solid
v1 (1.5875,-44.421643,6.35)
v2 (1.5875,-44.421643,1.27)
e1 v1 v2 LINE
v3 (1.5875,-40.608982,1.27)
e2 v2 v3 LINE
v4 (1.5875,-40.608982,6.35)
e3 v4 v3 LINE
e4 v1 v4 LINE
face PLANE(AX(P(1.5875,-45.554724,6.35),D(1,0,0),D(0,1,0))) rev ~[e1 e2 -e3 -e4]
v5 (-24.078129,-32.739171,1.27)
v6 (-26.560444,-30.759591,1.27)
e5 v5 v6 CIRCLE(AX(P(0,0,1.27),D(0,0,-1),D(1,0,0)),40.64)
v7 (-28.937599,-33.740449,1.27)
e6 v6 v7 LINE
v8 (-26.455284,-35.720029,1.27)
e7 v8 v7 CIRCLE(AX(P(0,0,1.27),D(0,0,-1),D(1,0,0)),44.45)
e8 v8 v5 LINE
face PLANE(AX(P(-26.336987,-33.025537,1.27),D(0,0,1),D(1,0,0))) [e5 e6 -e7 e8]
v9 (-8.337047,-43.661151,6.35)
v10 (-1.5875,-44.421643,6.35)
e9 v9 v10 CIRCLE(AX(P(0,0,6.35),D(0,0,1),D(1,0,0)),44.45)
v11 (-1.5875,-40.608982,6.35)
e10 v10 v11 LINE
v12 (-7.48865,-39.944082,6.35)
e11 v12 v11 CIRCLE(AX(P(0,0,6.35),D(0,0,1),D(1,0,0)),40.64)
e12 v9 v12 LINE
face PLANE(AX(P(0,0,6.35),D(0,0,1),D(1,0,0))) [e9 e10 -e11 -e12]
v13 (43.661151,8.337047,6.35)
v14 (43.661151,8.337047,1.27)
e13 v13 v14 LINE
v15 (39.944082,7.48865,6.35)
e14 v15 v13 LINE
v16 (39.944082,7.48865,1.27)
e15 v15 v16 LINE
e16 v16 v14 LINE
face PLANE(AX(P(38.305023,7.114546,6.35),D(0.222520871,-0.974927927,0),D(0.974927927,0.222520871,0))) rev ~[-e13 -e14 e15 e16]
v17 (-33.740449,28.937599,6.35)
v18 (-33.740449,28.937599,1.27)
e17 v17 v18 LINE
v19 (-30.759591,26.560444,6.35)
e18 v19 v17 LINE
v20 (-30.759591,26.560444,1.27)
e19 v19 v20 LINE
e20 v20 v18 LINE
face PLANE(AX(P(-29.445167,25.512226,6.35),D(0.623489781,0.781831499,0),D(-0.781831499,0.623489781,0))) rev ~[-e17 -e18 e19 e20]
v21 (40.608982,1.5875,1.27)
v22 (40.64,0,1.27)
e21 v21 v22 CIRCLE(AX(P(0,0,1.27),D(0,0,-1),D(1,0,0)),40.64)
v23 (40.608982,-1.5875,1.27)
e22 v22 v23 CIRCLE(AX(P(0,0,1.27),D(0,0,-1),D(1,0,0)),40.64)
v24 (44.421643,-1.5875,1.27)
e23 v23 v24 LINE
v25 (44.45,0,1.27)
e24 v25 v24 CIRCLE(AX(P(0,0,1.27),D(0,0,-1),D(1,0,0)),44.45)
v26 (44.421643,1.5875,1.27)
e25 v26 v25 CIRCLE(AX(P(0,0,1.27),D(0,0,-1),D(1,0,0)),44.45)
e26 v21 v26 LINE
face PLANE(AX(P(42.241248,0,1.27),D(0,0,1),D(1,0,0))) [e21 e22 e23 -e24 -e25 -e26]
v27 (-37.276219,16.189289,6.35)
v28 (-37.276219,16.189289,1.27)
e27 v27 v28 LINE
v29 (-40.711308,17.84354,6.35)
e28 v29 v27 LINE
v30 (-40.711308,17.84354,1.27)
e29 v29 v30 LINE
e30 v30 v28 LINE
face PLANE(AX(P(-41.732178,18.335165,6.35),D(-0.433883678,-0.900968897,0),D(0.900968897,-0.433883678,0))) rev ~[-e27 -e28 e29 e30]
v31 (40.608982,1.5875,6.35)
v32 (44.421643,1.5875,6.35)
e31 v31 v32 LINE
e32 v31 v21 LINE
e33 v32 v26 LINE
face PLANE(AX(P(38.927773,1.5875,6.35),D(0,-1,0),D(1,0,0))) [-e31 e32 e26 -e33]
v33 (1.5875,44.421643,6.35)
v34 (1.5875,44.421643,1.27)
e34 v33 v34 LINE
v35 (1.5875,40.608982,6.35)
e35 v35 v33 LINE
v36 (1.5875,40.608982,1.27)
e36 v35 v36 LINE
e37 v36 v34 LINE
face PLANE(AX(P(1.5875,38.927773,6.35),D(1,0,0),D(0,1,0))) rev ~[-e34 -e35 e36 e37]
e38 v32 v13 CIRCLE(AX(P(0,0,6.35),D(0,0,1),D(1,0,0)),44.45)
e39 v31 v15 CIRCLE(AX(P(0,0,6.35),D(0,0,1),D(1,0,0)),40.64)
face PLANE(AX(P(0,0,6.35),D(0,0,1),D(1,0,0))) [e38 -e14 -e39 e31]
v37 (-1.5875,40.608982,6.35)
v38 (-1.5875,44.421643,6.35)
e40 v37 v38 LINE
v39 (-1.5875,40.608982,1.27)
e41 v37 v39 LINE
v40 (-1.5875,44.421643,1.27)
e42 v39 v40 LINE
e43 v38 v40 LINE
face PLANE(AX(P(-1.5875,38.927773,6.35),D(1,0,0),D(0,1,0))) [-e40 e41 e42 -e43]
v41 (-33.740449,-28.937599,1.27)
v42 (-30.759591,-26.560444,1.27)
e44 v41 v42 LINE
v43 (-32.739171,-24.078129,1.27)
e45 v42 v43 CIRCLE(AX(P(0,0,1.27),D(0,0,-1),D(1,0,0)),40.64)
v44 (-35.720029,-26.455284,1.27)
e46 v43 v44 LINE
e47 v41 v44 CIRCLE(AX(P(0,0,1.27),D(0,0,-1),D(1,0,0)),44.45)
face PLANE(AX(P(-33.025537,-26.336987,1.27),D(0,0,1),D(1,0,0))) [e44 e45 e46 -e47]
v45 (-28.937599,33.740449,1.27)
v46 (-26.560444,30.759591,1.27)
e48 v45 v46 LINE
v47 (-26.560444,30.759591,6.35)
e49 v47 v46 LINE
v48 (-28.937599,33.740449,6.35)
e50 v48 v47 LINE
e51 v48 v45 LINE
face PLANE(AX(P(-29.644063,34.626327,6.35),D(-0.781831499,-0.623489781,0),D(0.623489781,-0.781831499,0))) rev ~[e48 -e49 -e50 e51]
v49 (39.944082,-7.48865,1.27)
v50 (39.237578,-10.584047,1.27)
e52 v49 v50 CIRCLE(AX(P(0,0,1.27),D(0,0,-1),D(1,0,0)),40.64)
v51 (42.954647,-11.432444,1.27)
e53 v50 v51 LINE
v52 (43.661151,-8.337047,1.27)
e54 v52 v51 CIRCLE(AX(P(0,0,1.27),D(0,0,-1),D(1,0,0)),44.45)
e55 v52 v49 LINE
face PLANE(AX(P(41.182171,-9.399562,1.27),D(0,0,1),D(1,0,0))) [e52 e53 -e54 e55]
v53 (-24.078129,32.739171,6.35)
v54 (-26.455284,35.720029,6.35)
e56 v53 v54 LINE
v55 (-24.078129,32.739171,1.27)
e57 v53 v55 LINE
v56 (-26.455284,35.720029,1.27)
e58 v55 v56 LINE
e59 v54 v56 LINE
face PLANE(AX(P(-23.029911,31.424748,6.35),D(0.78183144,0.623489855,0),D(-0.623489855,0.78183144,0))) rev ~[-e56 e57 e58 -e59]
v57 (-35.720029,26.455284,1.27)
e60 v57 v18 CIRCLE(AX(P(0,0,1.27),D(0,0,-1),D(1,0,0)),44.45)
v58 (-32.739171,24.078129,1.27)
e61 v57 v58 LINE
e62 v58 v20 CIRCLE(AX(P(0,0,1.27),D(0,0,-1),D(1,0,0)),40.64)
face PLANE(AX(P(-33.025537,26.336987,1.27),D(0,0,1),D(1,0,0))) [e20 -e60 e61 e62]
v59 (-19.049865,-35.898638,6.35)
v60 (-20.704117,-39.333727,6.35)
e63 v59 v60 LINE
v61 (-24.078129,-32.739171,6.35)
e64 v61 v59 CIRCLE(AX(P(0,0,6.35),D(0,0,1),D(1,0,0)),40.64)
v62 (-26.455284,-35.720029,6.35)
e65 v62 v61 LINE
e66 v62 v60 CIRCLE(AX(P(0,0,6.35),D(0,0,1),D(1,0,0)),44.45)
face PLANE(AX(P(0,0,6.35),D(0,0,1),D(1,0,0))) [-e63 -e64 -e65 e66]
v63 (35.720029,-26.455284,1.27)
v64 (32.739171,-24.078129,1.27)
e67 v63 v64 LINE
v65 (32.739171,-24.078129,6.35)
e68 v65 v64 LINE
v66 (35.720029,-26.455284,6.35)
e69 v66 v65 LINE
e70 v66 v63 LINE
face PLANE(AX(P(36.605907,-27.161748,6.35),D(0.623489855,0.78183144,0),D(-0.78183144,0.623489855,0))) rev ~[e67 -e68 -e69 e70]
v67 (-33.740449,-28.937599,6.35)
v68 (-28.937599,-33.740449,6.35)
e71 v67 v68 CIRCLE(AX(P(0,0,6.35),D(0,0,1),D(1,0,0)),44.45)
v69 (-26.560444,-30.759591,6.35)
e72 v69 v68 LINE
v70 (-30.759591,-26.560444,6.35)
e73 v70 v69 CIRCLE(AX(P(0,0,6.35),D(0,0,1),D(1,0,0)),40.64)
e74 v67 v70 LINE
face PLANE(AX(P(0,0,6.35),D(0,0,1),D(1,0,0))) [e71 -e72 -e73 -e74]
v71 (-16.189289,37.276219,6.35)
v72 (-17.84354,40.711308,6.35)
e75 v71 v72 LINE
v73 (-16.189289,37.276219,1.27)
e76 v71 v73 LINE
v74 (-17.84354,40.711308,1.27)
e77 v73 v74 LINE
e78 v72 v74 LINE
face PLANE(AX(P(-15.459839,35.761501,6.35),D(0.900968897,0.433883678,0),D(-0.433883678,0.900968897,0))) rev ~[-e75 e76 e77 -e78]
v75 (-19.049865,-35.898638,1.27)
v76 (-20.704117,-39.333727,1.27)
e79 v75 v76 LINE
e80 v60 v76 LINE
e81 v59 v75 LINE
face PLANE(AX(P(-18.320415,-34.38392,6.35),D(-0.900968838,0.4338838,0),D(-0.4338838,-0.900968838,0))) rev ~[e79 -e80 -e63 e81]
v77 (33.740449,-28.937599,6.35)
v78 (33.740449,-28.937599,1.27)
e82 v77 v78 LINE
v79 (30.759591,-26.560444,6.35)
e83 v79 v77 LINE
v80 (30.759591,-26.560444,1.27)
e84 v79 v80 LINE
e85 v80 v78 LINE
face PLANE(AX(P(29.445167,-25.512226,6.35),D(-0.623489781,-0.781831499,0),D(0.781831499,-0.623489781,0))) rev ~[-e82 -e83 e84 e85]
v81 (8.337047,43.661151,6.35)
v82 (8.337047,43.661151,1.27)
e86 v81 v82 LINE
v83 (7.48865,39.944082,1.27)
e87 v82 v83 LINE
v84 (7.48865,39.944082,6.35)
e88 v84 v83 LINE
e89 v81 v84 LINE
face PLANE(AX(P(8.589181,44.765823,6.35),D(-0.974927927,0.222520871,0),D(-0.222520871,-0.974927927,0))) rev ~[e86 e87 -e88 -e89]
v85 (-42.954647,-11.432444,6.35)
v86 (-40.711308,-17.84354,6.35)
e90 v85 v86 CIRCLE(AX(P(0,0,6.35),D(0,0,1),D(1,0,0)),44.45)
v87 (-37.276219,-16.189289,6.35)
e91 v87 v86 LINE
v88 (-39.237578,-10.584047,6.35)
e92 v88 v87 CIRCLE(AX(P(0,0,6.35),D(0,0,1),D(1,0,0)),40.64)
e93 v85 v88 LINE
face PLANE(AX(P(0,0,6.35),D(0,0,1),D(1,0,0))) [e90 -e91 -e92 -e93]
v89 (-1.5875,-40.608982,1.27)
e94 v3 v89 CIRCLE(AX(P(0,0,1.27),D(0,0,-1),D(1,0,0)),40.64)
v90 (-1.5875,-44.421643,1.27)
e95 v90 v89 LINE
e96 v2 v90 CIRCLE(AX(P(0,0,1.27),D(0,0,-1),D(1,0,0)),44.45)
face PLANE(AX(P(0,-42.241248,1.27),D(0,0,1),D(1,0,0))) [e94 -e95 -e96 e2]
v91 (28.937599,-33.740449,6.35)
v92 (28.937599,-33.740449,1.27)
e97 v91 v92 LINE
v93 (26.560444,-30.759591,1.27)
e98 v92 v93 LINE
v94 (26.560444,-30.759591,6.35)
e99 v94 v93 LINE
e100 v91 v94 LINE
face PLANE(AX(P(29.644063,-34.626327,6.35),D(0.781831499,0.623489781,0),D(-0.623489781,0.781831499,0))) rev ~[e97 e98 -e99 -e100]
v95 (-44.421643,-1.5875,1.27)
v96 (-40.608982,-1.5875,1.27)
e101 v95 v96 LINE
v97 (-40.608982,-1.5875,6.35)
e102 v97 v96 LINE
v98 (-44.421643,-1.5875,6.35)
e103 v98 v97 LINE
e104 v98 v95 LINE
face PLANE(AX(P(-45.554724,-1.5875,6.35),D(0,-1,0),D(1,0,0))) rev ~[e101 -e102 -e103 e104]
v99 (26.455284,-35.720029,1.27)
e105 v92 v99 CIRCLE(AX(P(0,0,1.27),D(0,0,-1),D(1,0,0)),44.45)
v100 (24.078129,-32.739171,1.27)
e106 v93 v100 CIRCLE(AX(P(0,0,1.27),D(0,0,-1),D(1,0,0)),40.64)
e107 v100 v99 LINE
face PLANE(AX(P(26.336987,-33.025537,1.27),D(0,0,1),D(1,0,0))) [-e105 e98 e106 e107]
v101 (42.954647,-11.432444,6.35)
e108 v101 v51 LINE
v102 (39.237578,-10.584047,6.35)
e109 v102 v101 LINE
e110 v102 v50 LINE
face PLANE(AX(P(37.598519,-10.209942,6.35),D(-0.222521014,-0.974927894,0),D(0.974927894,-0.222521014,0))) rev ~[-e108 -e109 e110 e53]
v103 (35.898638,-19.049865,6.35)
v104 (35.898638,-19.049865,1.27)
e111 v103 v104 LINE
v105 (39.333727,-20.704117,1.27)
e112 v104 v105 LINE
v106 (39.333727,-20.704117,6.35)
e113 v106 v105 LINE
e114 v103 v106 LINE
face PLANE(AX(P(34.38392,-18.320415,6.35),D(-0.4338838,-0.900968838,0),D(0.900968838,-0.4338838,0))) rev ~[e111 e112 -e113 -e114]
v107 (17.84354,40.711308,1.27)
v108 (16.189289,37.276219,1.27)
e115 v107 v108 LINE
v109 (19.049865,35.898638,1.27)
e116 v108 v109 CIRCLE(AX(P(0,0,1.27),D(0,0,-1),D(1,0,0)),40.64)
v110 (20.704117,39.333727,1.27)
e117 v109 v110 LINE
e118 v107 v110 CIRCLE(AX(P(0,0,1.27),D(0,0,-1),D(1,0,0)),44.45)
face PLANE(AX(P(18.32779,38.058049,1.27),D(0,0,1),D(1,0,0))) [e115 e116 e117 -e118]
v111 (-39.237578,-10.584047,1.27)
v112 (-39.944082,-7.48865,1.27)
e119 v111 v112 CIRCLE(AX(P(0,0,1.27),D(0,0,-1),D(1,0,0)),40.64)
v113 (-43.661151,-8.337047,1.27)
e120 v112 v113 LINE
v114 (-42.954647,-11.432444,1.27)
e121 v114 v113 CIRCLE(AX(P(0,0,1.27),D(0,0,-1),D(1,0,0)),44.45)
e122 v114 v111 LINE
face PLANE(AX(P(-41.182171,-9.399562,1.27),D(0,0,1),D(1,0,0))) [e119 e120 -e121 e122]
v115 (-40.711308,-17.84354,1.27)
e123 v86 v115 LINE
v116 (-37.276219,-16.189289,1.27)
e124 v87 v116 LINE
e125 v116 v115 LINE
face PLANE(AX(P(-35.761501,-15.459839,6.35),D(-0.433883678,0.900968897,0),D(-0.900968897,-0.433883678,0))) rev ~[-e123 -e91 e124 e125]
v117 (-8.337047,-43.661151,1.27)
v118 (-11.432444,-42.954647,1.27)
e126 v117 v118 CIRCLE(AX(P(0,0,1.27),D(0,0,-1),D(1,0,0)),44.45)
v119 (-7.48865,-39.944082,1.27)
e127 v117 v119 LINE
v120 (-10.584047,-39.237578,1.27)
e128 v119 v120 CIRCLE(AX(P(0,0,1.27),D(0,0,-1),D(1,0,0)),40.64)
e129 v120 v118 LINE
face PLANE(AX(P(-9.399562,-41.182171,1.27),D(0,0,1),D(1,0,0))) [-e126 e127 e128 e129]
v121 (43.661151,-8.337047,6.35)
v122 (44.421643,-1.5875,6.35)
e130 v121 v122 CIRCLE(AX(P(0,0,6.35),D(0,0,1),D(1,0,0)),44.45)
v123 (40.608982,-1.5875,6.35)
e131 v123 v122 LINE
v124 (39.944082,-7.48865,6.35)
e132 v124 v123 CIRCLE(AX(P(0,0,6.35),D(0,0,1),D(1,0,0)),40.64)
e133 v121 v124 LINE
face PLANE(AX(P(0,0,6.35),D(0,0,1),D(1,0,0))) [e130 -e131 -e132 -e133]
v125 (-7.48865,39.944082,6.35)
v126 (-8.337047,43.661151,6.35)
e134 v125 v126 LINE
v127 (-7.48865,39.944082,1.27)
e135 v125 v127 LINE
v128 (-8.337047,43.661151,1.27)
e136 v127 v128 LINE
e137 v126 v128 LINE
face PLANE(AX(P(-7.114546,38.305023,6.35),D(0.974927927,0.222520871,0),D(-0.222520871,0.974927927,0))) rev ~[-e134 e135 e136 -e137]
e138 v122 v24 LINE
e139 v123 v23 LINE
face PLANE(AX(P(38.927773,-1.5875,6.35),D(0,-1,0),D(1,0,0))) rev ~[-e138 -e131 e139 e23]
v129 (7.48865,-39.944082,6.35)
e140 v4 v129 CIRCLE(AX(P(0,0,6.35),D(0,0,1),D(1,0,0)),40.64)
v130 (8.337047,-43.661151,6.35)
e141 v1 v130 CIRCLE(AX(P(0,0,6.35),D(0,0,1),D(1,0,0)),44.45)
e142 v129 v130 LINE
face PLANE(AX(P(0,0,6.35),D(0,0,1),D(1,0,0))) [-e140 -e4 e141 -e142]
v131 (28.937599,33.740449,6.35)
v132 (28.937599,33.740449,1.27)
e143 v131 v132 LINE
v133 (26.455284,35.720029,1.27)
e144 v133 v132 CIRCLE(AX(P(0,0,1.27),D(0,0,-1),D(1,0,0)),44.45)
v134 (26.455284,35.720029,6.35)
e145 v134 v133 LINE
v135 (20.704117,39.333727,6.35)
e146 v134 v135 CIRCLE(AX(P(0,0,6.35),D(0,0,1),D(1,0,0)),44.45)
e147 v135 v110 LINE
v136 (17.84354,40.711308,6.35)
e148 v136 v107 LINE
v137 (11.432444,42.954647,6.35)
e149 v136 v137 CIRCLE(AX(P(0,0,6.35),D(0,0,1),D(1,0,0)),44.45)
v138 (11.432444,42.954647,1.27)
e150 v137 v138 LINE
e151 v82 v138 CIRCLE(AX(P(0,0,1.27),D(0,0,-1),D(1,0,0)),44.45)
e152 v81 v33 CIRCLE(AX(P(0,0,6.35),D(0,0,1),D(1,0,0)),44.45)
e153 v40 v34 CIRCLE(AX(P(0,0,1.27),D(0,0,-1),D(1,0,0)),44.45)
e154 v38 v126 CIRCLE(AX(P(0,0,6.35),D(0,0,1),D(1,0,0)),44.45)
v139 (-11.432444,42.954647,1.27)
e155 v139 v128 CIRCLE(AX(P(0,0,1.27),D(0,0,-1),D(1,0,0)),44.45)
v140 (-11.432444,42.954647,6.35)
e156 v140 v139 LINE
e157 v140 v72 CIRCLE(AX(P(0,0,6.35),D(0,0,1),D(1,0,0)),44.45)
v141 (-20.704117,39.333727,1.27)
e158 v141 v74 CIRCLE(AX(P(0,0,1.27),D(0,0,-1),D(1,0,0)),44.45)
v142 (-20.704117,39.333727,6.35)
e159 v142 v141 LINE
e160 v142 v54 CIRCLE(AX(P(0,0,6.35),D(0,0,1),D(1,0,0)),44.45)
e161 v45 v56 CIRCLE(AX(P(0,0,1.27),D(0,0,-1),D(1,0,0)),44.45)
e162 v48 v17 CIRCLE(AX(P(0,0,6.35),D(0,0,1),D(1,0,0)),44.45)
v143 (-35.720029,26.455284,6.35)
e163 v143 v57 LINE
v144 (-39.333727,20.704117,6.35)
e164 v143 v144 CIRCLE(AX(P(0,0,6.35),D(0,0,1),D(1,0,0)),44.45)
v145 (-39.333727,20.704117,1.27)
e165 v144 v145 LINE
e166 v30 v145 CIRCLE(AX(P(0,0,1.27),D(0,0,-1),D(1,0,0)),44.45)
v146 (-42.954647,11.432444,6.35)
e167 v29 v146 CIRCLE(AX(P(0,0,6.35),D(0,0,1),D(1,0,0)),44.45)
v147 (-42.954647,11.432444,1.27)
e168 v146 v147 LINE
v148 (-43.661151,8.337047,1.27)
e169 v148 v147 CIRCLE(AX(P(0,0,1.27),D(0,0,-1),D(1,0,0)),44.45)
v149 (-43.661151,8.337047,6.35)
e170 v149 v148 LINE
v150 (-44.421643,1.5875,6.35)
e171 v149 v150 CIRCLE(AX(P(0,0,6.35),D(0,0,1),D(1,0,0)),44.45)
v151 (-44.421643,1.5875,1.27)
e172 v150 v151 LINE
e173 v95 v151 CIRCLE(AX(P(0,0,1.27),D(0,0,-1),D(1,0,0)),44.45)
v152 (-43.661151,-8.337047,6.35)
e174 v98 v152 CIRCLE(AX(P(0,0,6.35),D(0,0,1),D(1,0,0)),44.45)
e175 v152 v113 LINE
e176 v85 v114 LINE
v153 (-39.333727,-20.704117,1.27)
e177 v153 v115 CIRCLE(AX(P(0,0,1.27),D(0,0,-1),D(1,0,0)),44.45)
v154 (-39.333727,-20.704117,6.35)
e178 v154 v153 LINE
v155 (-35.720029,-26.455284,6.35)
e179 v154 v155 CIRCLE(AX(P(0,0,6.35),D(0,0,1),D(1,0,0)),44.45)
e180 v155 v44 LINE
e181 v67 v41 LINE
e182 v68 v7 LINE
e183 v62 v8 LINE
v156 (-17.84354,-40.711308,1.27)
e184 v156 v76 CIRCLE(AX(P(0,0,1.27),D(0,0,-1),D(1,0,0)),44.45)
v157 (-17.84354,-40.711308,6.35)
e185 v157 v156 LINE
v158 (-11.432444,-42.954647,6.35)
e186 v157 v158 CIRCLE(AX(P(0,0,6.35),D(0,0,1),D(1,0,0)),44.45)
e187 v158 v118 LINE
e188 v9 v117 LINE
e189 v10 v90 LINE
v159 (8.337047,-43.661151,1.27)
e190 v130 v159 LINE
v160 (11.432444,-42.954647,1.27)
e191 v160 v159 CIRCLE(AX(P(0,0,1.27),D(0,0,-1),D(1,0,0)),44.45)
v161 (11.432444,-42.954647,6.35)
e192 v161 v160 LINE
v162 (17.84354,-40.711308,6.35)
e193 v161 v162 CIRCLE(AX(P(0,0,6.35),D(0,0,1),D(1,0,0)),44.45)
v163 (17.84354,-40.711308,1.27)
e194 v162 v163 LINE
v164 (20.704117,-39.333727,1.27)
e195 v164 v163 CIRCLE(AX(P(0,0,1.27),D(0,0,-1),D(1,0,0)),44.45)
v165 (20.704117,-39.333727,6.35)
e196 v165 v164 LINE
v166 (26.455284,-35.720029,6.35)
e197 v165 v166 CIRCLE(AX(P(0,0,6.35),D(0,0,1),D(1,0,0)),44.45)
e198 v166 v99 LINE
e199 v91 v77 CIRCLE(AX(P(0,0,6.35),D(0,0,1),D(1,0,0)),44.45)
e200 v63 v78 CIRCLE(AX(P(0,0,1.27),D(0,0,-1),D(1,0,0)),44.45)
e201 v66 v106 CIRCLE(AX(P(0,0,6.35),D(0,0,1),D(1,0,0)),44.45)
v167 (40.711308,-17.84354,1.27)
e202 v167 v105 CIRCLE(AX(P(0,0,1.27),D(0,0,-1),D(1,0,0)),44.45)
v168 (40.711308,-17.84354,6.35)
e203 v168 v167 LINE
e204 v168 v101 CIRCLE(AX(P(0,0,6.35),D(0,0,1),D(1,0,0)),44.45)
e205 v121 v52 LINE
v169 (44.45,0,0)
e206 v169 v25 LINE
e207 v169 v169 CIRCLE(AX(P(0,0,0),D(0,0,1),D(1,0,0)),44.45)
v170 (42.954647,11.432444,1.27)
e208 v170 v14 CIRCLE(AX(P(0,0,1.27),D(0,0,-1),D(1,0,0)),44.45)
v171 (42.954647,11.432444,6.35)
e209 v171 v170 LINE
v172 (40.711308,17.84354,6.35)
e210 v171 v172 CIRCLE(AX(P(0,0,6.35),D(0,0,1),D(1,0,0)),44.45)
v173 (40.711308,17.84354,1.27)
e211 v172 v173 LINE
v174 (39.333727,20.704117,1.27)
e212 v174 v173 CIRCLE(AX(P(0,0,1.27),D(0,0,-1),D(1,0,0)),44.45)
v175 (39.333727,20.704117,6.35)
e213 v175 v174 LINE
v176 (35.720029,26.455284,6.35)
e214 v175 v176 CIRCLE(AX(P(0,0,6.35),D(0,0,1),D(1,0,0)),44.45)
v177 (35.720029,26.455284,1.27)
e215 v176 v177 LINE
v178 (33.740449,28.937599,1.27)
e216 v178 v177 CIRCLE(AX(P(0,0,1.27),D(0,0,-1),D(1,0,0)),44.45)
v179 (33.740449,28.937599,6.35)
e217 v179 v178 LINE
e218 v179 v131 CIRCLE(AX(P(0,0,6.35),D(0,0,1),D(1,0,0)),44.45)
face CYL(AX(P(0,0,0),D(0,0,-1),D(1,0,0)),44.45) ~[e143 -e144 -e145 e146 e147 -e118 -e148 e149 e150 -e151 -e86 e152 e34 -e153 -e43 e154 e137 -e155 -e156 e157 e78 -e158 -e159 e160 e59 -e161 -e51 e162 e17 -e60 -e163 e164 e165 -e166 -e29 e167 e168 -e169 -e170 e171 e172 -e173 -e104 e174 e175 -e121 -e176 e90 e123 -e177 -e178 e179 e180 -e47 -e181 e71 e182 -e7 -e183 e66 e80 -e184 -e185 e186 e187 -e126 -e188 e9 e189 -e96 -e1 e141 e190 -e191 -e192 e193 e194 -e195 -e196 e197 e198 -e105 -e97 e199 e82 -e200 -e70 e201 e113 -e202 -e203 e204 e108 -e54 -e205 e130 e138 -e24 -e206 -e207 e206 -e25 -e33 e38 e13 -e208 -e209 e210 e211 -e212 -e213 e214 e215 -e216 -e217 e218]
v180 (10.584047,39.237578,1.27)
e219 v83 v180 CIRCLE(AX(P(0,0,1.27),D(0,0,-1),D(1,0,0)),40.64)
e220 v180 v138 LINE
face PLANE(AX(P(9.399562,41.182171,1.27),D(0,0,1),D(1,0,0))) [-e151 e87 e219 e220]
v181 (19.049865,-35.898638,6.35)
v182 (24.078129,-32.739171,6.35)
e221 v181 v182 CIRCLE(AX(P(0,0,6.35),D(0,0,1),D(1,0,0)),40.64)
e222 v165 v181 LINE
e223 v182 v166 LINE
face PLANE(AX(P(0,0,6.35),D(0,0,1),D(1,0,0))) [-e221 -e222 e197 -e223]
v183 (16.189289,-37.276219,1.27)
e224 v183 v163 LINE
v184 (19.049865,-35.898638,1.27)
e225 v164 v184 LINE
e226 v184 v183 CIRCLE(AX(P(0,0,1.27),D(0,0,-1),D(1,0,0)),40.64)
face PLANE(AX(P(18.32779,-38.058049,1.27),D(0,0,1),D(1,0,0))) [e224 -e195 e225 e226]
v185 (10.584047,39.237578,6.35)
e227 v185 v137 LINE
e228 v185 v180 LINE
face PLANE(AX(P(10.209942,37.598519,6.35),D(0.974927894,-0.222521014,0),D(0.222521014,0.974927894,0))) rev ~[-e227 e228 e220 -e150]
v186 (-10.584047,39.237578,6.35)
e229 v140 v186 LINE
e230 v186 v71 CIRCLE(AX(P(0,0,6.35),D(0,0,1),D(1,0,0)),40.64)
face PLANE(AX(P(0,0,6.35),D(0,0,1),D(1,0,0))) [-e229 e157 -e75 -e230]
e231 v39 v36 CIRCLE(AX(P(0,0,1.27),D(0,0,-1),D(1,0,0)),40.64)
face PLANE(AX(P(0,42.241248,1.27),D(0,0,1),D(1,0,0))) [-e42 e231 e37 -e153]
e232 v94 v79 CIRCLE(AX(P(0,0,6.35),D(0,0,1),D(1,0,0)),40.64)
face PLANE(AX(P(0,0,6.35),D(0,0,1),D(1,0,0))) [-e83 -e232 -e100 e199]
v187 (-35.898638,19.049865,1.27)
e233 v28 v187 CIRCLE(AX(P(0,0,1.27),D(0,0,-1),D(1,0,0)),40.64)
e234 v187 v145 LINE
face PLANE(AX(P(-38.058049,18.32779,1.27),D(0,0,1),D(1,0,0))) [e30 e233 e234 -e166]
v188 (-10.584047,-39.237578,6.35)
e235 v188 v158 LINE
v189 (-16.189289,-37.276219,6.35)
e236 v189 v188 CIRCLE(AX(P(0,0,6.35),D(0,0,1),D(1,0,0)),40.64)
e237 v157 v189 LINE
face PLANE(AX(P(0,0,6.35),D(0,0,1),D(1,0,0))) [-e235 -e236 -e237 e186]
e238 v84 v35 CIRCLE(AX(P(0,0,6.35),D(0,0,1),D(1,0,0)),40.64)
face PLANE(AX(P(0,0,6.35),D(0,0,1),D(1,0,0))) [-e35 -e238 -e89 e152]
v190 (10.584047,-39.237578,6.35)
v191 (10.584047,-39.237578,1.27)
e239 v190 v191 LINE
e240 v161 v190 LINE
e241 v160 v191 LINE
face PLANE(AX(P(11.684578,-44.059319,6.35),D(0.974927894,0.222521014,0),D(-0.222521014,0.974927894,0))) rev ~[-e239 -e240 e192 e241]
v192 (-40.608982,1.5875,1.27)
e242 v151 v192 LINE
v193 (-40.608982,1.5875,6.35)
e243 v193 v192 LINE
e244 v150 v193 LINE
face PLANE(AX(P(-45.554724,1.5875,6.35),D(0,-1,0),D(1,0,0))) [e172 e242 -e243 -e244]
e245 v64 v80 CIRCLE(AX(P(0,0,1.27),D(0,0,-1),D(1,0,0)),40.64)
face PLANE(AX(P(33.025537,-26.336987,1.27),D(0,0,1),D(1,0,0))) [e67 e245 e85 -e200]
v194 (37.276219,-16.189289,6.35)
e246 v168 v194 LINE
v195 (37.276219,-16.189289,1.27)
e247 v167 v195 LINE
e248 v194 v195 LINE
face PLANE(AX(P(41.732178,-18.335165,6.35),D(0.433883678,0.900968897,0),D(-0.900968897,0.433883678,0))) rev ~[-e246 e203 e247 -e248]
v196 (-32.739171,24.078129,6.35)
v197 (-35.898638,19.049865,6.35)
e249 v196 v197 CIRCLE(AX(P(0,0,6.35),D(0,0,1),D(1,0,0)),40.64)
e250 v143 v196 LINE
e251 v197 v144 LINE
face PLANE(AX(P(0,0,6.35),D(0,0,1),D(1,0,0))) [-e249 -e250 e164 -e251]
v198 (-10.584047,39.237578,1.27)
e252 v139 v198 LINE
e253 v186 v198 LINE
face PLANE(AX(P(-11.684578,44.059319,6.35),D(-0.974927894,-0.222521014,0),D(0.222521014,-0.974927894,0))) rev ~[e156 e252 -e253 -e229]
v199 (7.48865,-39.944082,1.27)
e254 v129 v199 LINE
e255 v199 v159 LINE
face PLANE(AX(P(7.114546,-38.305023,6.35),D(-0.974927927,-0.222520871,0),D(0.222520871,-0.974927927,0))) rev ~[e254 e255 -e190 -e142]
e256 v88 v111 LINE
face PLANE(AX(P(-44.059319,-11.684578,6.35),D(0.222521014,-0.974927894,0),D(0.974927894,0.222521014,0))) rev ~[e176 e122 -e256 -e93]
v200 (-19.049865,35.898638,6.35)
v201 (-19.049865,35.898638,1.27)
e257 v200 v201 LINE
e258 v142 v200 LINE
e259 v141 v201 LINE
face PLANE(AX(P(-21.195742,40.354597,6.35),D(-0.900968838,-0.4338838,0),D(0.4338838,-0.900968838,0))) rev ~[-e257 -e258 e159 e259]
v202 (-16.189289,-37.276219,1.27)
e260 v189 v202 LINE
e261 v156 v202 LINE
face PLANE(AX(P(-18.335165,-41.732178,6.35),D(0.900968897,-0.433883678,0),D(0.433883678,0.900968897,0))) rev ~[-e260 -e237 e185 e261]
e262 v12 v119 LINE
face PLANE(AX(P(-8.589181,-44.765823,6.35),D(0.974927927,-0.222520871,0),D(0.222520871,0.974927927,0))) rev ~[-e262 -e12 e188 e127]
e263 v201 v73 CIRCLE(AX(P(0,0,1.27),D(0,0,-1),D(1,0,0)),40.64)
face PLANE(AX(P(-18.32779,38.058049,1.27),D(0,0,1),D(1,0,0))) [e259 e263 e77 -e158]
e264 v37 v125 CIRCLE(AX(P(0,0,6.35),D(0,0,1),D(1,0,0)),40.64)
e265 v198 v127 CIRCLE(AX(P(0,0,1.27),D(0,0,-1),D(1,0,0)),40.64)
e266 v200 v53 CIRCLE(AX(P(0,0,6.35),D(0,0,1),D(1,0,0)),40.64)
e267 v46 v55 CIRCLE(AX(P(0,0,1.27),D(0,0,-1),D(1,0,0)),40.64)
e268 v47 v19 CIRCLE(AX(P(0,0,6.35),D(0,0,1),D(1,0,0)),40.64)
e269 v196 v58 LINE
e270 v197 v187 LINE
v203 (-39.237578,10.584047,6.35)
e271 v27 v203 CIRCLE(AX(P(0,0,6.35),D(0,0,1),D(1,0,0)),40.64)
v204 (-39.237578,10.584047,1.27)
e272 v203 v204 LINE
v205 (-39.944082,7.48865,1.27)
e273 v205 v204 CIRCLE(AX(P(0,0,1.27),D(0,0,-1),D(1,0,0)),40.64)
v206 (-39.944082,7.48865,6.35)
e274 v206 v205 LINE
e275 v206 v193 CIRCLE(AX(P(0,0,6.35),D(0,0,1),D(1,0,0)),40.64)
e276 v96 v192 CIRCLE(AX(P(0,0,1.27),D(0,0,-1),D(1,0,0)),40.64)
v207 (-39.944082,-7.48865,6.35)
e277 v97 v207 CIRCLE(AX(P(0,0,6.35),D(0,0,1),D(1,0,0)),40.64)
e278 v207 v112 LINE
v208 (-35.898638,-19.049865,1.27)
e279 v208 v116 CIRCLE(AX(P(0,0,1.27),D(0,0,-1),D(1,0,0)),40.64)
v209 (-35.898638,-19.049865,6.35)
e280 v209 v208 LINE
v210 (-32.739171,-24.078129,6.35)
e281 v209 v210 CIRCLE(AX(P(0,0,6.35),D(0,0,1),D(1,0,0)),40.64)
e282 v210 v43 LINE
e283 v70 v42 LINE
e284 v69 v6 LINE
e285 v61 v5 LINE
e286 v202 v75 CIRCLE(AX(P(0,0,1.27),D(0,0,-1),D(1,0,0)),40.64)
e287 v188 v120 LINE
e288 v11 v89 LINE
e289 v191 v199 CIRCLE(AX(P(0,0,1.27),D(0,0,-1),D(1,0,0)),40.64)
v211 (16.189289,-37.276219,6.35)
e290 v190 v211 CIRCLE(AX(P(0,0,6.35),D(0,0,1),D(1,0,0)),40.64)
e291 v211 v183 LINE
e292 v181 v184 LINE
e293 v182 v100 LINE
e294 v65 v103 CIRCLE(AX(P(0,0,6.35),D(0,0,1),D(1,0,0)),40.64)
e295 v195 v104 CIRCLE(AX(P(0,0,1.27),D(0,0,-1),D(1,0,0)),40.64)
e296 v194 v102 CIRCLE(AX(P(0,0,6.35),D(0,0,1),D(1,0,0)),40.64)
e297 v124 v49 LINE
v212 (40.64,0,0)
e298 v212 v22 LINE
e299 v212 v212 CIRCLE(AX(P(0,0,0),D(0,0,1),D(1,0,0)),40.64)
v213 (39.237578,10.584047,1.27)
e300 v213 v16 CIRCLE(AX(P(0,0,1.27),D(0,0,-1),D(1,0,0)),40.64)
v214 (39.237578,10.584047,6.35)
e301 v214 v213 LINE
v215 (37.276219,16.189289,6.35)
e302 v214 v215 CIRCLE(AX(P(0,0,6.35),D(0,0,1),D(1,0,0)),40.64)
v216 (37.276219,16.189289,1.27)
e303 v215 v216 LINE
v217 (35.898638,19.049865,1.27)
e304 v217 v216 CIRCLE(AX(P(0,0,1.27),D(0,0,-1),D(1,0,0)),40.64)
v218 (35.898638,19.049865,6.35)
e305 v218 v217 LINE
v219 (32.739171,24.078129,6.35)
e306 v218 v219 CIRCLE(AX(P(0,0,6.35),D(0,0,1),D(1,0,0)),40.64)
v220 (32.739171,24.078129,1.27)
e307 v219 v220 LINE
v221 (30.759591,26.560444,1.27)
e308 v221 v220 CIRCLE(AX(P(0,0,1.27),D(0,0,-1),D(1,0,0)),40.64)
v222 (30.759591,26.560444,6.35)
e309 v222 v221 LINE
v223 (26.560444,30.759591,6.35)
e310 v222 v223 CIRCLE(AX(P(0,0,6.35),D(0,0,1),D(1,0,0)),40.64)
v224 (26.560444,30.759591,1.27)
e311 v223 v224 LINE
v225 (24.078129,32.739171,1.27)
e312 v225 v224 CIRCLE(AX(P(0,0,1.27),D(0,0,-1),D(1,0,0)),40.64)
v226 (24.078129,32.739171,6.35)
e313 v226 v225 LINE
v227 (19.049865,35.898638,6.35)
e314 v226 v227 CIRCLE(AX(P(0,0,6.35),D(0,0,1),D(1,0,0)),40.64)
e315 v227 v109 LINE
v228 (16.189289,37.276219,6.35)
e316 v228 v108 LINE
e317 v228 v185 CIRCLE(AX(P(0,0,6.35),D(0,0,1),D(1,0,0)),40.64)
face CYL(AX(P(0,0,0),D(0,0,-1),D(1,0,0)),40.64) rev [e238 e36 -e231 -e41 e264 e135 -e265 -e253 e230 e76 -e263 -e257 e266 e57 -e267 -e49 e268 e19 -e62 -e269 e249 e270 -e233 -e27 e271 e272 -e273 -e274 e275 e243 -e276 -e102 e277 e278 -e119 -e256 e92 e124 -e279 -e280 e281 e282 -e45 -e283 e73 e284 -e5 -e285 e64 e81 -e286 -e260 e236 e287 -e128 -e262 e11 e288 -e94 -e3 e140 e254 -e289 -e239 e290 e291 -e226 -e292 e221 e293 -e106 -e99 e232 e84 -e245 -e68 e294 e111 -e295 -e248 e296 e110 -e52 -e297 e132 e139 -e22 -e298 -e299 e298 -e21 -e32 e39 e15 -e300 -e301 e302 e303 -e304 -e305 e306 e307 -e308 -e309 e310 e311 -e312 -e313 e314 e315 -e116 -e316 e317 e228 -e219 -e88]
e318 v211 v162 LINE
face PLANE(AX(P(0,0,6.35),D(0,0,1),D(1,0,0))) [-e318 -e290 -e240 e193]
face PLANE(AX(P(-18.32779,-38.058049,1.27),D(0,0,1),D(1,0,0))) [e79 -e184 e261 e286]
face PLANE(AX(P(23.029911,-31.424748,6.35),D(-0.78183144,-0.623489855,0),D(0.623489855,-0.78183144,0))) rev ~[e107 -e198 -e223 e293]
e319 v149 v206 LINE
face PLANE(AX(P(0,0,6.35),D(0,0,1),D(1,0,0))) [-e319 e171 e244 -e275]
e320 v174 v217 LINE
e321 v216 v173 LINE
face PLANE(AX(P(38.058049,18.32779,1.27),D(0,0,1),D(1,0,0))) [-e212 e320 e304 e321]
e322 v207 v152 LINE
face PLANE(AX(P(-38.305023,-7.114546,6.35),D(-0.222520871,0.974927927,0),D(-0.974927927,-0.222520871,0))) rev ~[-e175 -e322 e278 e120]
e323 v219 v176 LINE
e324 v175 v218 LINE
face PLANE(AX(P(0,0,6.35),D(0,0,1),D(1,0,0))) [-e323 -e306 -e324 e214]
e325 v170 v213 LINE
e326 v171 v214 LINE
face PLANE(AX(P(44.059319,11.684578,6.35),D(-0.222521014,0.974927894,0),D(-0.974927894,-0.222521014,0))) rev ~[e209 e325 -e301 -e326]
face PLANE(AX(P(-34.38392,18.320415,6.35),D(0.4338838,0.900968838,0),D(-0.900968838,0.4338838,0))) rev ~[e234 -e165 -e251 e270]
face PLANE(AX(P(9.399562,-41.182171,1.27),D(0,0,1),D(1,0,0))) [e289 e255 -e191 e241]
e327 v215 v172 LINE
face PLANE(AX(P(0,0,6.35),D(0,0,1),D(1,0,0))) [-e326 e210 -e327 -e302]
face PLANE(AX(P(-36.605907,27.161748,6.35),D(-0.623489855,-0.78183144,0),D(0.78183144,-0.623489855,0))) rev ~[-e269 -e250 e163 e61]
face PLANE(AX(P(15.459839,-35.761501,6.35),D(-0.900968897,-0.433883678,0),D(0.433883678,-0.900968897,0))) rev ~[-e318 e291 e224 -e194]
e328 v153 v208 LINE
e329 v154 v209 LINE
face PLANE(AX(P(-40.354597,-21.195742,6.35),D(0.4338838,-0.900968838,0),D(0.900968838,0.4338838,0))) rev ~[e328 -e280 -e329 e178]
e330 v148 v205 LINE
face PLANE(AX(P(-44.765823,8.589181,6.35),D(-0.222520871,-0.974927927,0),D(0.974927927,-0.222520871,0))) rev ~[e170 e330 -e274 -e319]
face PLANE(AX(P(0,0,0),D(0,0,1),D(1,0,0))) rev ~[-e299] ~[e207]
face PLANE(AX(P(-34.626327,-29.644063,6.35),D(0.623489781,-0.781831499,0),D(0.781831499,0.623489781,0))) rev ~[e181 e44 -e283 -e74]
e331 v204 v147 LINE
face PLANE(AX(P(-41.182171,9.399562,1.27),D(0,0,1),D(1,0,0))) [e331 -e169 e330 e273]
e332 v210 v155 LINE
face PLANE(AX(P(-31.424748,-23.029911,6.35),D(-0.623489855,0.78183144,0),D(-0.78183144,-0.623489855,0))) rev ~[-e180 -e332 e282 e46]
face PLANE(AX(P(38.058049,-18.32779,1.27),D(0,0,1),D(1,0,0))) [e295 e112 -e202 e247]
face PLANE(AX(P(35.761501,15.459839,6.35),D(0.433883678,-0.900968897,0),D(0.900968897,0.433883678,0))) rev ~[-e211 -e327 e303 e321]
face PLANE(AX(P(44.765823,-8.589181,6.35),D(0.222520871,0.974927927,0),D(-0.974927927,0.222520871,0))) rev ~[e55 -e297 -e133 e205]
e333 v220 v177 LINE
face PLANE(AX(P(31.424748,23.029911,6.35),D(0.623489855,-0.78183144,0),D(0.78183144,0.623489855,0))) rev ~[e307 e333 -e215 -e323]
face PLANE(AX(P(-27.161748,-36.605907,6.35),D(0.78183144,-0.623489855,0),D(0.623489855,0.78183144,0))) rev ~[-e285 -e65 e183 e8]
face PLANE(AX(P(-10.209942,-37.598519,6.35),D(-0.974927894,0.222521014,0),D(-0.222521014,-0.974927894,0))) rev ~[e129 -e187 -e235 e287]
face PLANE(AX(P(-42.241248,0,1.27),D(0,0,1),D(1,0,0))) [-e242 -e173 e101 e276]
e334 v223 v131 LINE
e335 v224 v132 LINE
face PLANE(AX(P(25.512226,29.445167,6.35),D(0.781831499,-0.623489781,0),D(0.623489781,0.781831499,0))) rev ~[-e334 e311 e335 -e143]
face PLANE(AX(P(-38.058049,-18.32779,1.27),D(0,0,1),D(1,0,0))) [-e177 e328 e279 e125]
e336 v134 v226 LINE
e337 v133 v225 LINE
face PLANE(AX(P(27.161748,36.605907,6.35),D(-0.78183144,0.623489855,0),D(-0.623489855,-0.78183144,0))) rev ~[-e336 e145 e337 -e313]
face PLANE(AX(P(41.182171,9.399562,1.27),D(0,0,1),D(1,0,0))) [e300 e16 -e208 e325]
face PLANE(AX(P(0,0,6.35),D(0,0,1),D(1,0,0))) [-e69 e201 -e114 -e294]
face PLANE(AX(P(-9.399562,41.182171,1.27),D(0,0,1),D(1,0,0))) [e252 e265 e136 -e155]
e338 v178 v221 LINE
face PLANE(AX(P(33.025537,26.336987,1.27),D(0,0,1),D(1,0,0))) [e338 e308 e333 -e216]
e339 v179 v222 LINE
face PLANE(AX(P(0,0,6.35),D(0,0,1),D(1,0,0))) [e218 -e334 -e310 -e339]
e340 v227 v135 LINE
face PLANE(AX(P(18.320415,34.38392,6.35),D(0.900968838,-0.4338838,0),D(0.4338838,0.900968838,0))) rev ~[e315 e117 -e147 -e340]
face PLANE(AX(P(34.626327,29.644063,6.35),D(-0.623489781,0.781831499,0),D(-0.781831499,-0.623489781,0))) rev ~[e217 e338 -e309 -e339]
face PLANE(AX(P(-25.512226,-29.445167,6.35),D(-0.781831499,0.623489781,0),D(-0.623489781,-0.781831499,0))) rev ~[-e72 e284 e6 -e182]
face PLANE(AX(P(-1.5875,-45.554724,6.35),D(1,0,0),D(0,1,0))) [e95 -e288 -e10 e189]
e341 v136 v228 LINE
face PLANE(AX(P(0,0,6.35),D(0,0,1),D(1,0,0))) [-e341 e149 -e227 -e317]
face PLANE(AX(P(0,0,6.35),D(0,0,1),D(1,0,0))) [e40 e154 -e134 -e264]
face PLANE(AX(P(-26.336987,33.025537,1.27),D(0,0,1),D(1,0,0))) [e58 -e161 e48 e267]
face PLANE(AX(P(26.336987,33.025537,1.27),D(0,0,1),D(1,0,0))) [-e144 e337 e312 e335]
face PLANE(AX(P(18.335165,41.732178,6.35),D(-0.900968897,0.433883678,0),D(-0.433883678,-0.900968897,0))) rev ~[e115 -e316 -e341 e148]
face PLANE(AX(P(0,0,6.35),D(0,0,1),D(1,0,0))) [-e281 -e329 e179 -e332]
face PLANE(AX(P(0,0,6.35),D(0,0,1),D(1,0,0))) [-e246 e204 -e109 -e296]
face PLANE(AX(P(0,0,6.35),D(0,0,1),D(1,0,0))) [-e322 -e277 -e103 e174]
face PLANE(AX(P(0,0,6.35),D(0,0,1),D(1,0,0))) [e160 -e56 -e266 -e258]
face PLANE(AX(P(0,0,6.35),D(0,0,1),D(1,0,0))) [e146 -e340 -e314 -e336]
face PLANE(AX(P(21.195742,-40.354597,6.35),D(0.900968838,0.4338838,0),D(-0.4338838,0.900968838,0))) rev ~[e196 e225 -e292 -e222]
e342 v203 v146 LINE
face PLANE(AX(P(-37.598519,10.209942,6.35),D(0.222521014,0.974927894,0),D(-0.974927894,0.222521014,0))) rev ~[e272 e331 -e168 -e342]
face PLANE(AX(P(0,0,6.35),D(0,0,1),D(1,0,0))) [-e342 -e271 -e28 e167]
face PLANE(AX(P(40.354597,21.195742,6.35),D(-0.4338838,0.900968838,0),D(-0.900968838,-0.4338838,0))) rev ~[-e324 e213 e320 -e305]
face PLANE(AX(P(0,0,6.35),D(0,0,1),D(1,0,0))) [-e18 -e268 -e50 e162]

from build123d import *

# Parameters (mm, degrees)
F0_R     = 44.45
F0_R_2   = 40.64
F1_DEPTH = 6.35
F2_W     = 6.626951
F2_H     = 3.175
F2_W_2   = 3.175
F2_H_2   = 6.626951
F3_DEPTH = 5.08


with BuildPart() as f1:
    # F0 (on Top) → F1 (new body)
    with BuildSketch(Plane.XY):
        Circle(F0_R)
        Circle(F0_R_2, mode=Mode.SUBTRACT)
    extrude(amount=F1_DEPTH)

    # F2 (on face) → F3 (cut)
    with BuildSketch(Plane.XY.offset(6.35)):
        with Locations((-42.241248, 0)):
            Rectangle(F2_W, F2_H)
        Polygon((-44.059319, 11.684578), (-44.765823, 8.589181), (-38.305023, 7.114546), (-37.598519, 10.209942), align=None)
        Polygon((-40.354597, 21.195742), (-41.732178, 18.335165), (-35.761501, 15.459839), (-34.38392, 18.320415), align=None)
        Polygon((-34.626327, 29.644063), (-36.605907, 27.161748), (-31.424748, 23.029911), (-29.445167, 25.512226), align=None)
        Polygon((-27.161748, 36.605907), (-29.644063, 34.626327), (-25.512226, 29.445167), (-23.029911, 31.424748), align=None)
        Polygon((-18.335165, 41.732178), (-21.195742, 40.354597), (-18.320415, 34.38392), (-15.459839, 35.761501), align=None)
        Polygon((-8.589181, 44.765823), (-11.684578, 44.059319), (-10.209942, 37.598519), (-7.114546, 38.305023), align=None)
        with Locations((0, 42.241248)):
            Rectangle(F2_W_2, F2_H_2)
        Polygon((11.684578, 44.059319), (8.589181, 44.765823), (7.114546, 38.305023), (10.209942, 37.598519), align=None)
        Polygon((21.195742, 40.354597), (18.335165, 41.732178), (15.459839, 35.761501), (18.320415, 34.38392), align=None)
        Polygon((29.644063, 34.626327), (27.161748, 36.605907), (23.029911, 31.424748), (25.512226, 29.445167), align=None)
        Polygon((36.605907, 27.161748), (34.626327, 29.644063), (29.445167, 25.512226), (31.424748, 23.029911), align=None)
        Polygon((41.732178, 18.335165), (40.354597, 21.195742), (34.38392, 18.320415), (35.761501, 15.459839), align=None)
        Polygon((44.765823, 8.589181), (44.059319, 11.684578), (37.598519, 10.209942), (38.305023, 7.114546), align=None)
        with Locations((42.241248, 0)):
            Rectangle(F2_W, F2_H)
        Polygon((-44.059319, -11.684578), (-37.598519, -10.209942), (-38.305023, -7.114546), (-44.765823, -8.589181), align=None)
        with Locations((0, -42.241248)):
            Rectangle(F2_W_2, F2_H_2)
        Polygon((21.195742, -40.354597), (18.320415, -34.38392), (15.459839, -35.761501), (18.335165, -41.732178), align=None)
        Polygon((-18.335165, -41.732178), (-15.459839, -35.761501), (-18.320415, -34.38392), (-21.195742, -40.354597), align=None)
        Polygon((-36.605907, -27.161748), (-34.626327, -29.644063), (-29.445167, -25.512226), (-31.424748, -23.029911), align=None)
        Polygon((40.354597, -21.195742), (41.732178, -18.335165), (35.761501, -15.459839), (34.38392, -18.320415), align=None)
        Polygon((27.161748, -36.605907), (29.644063, -34.626327), (25.512226, -29.445167), (23.029911, -31.424748), align=None)
        Polygon((34.626327, -29.644063), (36.605907, -27.161748), (31.424748, -23.029911), (29.445167, -25.512226), align=None)
        Polygon((-27.161748, -36.605907), (-23.029911, -31.424748), (-25.512226, -29.445167), (-29.644063, -34.626327), align=None)
        Polygon((44.765823, -8.589181), (38.305023, -7.114546), (37.598519, -10.209942), (44.059319, -11.684578), align=None)
        Polygon((-8.589181, -44.765823), (-7.114546, -38.305023), (-10.209942, -37.598519), (-11.684578, -44.059319), align=None)
        Polygon((-40.354597, -21.195742), (-34.38392, -18.320415), (-35.761501, -15.459839), (-41.732178, -18.335165), align=None)
        Polygon((8.589181, -44.765823), (11.684578, -44.059319), (10.209942, -37.598519), (7.114546, -38.305023), align=None)
    extrude(amount=-F3_DEPTH, mode=Mode.SUBTRACT)


solid = f1.part
